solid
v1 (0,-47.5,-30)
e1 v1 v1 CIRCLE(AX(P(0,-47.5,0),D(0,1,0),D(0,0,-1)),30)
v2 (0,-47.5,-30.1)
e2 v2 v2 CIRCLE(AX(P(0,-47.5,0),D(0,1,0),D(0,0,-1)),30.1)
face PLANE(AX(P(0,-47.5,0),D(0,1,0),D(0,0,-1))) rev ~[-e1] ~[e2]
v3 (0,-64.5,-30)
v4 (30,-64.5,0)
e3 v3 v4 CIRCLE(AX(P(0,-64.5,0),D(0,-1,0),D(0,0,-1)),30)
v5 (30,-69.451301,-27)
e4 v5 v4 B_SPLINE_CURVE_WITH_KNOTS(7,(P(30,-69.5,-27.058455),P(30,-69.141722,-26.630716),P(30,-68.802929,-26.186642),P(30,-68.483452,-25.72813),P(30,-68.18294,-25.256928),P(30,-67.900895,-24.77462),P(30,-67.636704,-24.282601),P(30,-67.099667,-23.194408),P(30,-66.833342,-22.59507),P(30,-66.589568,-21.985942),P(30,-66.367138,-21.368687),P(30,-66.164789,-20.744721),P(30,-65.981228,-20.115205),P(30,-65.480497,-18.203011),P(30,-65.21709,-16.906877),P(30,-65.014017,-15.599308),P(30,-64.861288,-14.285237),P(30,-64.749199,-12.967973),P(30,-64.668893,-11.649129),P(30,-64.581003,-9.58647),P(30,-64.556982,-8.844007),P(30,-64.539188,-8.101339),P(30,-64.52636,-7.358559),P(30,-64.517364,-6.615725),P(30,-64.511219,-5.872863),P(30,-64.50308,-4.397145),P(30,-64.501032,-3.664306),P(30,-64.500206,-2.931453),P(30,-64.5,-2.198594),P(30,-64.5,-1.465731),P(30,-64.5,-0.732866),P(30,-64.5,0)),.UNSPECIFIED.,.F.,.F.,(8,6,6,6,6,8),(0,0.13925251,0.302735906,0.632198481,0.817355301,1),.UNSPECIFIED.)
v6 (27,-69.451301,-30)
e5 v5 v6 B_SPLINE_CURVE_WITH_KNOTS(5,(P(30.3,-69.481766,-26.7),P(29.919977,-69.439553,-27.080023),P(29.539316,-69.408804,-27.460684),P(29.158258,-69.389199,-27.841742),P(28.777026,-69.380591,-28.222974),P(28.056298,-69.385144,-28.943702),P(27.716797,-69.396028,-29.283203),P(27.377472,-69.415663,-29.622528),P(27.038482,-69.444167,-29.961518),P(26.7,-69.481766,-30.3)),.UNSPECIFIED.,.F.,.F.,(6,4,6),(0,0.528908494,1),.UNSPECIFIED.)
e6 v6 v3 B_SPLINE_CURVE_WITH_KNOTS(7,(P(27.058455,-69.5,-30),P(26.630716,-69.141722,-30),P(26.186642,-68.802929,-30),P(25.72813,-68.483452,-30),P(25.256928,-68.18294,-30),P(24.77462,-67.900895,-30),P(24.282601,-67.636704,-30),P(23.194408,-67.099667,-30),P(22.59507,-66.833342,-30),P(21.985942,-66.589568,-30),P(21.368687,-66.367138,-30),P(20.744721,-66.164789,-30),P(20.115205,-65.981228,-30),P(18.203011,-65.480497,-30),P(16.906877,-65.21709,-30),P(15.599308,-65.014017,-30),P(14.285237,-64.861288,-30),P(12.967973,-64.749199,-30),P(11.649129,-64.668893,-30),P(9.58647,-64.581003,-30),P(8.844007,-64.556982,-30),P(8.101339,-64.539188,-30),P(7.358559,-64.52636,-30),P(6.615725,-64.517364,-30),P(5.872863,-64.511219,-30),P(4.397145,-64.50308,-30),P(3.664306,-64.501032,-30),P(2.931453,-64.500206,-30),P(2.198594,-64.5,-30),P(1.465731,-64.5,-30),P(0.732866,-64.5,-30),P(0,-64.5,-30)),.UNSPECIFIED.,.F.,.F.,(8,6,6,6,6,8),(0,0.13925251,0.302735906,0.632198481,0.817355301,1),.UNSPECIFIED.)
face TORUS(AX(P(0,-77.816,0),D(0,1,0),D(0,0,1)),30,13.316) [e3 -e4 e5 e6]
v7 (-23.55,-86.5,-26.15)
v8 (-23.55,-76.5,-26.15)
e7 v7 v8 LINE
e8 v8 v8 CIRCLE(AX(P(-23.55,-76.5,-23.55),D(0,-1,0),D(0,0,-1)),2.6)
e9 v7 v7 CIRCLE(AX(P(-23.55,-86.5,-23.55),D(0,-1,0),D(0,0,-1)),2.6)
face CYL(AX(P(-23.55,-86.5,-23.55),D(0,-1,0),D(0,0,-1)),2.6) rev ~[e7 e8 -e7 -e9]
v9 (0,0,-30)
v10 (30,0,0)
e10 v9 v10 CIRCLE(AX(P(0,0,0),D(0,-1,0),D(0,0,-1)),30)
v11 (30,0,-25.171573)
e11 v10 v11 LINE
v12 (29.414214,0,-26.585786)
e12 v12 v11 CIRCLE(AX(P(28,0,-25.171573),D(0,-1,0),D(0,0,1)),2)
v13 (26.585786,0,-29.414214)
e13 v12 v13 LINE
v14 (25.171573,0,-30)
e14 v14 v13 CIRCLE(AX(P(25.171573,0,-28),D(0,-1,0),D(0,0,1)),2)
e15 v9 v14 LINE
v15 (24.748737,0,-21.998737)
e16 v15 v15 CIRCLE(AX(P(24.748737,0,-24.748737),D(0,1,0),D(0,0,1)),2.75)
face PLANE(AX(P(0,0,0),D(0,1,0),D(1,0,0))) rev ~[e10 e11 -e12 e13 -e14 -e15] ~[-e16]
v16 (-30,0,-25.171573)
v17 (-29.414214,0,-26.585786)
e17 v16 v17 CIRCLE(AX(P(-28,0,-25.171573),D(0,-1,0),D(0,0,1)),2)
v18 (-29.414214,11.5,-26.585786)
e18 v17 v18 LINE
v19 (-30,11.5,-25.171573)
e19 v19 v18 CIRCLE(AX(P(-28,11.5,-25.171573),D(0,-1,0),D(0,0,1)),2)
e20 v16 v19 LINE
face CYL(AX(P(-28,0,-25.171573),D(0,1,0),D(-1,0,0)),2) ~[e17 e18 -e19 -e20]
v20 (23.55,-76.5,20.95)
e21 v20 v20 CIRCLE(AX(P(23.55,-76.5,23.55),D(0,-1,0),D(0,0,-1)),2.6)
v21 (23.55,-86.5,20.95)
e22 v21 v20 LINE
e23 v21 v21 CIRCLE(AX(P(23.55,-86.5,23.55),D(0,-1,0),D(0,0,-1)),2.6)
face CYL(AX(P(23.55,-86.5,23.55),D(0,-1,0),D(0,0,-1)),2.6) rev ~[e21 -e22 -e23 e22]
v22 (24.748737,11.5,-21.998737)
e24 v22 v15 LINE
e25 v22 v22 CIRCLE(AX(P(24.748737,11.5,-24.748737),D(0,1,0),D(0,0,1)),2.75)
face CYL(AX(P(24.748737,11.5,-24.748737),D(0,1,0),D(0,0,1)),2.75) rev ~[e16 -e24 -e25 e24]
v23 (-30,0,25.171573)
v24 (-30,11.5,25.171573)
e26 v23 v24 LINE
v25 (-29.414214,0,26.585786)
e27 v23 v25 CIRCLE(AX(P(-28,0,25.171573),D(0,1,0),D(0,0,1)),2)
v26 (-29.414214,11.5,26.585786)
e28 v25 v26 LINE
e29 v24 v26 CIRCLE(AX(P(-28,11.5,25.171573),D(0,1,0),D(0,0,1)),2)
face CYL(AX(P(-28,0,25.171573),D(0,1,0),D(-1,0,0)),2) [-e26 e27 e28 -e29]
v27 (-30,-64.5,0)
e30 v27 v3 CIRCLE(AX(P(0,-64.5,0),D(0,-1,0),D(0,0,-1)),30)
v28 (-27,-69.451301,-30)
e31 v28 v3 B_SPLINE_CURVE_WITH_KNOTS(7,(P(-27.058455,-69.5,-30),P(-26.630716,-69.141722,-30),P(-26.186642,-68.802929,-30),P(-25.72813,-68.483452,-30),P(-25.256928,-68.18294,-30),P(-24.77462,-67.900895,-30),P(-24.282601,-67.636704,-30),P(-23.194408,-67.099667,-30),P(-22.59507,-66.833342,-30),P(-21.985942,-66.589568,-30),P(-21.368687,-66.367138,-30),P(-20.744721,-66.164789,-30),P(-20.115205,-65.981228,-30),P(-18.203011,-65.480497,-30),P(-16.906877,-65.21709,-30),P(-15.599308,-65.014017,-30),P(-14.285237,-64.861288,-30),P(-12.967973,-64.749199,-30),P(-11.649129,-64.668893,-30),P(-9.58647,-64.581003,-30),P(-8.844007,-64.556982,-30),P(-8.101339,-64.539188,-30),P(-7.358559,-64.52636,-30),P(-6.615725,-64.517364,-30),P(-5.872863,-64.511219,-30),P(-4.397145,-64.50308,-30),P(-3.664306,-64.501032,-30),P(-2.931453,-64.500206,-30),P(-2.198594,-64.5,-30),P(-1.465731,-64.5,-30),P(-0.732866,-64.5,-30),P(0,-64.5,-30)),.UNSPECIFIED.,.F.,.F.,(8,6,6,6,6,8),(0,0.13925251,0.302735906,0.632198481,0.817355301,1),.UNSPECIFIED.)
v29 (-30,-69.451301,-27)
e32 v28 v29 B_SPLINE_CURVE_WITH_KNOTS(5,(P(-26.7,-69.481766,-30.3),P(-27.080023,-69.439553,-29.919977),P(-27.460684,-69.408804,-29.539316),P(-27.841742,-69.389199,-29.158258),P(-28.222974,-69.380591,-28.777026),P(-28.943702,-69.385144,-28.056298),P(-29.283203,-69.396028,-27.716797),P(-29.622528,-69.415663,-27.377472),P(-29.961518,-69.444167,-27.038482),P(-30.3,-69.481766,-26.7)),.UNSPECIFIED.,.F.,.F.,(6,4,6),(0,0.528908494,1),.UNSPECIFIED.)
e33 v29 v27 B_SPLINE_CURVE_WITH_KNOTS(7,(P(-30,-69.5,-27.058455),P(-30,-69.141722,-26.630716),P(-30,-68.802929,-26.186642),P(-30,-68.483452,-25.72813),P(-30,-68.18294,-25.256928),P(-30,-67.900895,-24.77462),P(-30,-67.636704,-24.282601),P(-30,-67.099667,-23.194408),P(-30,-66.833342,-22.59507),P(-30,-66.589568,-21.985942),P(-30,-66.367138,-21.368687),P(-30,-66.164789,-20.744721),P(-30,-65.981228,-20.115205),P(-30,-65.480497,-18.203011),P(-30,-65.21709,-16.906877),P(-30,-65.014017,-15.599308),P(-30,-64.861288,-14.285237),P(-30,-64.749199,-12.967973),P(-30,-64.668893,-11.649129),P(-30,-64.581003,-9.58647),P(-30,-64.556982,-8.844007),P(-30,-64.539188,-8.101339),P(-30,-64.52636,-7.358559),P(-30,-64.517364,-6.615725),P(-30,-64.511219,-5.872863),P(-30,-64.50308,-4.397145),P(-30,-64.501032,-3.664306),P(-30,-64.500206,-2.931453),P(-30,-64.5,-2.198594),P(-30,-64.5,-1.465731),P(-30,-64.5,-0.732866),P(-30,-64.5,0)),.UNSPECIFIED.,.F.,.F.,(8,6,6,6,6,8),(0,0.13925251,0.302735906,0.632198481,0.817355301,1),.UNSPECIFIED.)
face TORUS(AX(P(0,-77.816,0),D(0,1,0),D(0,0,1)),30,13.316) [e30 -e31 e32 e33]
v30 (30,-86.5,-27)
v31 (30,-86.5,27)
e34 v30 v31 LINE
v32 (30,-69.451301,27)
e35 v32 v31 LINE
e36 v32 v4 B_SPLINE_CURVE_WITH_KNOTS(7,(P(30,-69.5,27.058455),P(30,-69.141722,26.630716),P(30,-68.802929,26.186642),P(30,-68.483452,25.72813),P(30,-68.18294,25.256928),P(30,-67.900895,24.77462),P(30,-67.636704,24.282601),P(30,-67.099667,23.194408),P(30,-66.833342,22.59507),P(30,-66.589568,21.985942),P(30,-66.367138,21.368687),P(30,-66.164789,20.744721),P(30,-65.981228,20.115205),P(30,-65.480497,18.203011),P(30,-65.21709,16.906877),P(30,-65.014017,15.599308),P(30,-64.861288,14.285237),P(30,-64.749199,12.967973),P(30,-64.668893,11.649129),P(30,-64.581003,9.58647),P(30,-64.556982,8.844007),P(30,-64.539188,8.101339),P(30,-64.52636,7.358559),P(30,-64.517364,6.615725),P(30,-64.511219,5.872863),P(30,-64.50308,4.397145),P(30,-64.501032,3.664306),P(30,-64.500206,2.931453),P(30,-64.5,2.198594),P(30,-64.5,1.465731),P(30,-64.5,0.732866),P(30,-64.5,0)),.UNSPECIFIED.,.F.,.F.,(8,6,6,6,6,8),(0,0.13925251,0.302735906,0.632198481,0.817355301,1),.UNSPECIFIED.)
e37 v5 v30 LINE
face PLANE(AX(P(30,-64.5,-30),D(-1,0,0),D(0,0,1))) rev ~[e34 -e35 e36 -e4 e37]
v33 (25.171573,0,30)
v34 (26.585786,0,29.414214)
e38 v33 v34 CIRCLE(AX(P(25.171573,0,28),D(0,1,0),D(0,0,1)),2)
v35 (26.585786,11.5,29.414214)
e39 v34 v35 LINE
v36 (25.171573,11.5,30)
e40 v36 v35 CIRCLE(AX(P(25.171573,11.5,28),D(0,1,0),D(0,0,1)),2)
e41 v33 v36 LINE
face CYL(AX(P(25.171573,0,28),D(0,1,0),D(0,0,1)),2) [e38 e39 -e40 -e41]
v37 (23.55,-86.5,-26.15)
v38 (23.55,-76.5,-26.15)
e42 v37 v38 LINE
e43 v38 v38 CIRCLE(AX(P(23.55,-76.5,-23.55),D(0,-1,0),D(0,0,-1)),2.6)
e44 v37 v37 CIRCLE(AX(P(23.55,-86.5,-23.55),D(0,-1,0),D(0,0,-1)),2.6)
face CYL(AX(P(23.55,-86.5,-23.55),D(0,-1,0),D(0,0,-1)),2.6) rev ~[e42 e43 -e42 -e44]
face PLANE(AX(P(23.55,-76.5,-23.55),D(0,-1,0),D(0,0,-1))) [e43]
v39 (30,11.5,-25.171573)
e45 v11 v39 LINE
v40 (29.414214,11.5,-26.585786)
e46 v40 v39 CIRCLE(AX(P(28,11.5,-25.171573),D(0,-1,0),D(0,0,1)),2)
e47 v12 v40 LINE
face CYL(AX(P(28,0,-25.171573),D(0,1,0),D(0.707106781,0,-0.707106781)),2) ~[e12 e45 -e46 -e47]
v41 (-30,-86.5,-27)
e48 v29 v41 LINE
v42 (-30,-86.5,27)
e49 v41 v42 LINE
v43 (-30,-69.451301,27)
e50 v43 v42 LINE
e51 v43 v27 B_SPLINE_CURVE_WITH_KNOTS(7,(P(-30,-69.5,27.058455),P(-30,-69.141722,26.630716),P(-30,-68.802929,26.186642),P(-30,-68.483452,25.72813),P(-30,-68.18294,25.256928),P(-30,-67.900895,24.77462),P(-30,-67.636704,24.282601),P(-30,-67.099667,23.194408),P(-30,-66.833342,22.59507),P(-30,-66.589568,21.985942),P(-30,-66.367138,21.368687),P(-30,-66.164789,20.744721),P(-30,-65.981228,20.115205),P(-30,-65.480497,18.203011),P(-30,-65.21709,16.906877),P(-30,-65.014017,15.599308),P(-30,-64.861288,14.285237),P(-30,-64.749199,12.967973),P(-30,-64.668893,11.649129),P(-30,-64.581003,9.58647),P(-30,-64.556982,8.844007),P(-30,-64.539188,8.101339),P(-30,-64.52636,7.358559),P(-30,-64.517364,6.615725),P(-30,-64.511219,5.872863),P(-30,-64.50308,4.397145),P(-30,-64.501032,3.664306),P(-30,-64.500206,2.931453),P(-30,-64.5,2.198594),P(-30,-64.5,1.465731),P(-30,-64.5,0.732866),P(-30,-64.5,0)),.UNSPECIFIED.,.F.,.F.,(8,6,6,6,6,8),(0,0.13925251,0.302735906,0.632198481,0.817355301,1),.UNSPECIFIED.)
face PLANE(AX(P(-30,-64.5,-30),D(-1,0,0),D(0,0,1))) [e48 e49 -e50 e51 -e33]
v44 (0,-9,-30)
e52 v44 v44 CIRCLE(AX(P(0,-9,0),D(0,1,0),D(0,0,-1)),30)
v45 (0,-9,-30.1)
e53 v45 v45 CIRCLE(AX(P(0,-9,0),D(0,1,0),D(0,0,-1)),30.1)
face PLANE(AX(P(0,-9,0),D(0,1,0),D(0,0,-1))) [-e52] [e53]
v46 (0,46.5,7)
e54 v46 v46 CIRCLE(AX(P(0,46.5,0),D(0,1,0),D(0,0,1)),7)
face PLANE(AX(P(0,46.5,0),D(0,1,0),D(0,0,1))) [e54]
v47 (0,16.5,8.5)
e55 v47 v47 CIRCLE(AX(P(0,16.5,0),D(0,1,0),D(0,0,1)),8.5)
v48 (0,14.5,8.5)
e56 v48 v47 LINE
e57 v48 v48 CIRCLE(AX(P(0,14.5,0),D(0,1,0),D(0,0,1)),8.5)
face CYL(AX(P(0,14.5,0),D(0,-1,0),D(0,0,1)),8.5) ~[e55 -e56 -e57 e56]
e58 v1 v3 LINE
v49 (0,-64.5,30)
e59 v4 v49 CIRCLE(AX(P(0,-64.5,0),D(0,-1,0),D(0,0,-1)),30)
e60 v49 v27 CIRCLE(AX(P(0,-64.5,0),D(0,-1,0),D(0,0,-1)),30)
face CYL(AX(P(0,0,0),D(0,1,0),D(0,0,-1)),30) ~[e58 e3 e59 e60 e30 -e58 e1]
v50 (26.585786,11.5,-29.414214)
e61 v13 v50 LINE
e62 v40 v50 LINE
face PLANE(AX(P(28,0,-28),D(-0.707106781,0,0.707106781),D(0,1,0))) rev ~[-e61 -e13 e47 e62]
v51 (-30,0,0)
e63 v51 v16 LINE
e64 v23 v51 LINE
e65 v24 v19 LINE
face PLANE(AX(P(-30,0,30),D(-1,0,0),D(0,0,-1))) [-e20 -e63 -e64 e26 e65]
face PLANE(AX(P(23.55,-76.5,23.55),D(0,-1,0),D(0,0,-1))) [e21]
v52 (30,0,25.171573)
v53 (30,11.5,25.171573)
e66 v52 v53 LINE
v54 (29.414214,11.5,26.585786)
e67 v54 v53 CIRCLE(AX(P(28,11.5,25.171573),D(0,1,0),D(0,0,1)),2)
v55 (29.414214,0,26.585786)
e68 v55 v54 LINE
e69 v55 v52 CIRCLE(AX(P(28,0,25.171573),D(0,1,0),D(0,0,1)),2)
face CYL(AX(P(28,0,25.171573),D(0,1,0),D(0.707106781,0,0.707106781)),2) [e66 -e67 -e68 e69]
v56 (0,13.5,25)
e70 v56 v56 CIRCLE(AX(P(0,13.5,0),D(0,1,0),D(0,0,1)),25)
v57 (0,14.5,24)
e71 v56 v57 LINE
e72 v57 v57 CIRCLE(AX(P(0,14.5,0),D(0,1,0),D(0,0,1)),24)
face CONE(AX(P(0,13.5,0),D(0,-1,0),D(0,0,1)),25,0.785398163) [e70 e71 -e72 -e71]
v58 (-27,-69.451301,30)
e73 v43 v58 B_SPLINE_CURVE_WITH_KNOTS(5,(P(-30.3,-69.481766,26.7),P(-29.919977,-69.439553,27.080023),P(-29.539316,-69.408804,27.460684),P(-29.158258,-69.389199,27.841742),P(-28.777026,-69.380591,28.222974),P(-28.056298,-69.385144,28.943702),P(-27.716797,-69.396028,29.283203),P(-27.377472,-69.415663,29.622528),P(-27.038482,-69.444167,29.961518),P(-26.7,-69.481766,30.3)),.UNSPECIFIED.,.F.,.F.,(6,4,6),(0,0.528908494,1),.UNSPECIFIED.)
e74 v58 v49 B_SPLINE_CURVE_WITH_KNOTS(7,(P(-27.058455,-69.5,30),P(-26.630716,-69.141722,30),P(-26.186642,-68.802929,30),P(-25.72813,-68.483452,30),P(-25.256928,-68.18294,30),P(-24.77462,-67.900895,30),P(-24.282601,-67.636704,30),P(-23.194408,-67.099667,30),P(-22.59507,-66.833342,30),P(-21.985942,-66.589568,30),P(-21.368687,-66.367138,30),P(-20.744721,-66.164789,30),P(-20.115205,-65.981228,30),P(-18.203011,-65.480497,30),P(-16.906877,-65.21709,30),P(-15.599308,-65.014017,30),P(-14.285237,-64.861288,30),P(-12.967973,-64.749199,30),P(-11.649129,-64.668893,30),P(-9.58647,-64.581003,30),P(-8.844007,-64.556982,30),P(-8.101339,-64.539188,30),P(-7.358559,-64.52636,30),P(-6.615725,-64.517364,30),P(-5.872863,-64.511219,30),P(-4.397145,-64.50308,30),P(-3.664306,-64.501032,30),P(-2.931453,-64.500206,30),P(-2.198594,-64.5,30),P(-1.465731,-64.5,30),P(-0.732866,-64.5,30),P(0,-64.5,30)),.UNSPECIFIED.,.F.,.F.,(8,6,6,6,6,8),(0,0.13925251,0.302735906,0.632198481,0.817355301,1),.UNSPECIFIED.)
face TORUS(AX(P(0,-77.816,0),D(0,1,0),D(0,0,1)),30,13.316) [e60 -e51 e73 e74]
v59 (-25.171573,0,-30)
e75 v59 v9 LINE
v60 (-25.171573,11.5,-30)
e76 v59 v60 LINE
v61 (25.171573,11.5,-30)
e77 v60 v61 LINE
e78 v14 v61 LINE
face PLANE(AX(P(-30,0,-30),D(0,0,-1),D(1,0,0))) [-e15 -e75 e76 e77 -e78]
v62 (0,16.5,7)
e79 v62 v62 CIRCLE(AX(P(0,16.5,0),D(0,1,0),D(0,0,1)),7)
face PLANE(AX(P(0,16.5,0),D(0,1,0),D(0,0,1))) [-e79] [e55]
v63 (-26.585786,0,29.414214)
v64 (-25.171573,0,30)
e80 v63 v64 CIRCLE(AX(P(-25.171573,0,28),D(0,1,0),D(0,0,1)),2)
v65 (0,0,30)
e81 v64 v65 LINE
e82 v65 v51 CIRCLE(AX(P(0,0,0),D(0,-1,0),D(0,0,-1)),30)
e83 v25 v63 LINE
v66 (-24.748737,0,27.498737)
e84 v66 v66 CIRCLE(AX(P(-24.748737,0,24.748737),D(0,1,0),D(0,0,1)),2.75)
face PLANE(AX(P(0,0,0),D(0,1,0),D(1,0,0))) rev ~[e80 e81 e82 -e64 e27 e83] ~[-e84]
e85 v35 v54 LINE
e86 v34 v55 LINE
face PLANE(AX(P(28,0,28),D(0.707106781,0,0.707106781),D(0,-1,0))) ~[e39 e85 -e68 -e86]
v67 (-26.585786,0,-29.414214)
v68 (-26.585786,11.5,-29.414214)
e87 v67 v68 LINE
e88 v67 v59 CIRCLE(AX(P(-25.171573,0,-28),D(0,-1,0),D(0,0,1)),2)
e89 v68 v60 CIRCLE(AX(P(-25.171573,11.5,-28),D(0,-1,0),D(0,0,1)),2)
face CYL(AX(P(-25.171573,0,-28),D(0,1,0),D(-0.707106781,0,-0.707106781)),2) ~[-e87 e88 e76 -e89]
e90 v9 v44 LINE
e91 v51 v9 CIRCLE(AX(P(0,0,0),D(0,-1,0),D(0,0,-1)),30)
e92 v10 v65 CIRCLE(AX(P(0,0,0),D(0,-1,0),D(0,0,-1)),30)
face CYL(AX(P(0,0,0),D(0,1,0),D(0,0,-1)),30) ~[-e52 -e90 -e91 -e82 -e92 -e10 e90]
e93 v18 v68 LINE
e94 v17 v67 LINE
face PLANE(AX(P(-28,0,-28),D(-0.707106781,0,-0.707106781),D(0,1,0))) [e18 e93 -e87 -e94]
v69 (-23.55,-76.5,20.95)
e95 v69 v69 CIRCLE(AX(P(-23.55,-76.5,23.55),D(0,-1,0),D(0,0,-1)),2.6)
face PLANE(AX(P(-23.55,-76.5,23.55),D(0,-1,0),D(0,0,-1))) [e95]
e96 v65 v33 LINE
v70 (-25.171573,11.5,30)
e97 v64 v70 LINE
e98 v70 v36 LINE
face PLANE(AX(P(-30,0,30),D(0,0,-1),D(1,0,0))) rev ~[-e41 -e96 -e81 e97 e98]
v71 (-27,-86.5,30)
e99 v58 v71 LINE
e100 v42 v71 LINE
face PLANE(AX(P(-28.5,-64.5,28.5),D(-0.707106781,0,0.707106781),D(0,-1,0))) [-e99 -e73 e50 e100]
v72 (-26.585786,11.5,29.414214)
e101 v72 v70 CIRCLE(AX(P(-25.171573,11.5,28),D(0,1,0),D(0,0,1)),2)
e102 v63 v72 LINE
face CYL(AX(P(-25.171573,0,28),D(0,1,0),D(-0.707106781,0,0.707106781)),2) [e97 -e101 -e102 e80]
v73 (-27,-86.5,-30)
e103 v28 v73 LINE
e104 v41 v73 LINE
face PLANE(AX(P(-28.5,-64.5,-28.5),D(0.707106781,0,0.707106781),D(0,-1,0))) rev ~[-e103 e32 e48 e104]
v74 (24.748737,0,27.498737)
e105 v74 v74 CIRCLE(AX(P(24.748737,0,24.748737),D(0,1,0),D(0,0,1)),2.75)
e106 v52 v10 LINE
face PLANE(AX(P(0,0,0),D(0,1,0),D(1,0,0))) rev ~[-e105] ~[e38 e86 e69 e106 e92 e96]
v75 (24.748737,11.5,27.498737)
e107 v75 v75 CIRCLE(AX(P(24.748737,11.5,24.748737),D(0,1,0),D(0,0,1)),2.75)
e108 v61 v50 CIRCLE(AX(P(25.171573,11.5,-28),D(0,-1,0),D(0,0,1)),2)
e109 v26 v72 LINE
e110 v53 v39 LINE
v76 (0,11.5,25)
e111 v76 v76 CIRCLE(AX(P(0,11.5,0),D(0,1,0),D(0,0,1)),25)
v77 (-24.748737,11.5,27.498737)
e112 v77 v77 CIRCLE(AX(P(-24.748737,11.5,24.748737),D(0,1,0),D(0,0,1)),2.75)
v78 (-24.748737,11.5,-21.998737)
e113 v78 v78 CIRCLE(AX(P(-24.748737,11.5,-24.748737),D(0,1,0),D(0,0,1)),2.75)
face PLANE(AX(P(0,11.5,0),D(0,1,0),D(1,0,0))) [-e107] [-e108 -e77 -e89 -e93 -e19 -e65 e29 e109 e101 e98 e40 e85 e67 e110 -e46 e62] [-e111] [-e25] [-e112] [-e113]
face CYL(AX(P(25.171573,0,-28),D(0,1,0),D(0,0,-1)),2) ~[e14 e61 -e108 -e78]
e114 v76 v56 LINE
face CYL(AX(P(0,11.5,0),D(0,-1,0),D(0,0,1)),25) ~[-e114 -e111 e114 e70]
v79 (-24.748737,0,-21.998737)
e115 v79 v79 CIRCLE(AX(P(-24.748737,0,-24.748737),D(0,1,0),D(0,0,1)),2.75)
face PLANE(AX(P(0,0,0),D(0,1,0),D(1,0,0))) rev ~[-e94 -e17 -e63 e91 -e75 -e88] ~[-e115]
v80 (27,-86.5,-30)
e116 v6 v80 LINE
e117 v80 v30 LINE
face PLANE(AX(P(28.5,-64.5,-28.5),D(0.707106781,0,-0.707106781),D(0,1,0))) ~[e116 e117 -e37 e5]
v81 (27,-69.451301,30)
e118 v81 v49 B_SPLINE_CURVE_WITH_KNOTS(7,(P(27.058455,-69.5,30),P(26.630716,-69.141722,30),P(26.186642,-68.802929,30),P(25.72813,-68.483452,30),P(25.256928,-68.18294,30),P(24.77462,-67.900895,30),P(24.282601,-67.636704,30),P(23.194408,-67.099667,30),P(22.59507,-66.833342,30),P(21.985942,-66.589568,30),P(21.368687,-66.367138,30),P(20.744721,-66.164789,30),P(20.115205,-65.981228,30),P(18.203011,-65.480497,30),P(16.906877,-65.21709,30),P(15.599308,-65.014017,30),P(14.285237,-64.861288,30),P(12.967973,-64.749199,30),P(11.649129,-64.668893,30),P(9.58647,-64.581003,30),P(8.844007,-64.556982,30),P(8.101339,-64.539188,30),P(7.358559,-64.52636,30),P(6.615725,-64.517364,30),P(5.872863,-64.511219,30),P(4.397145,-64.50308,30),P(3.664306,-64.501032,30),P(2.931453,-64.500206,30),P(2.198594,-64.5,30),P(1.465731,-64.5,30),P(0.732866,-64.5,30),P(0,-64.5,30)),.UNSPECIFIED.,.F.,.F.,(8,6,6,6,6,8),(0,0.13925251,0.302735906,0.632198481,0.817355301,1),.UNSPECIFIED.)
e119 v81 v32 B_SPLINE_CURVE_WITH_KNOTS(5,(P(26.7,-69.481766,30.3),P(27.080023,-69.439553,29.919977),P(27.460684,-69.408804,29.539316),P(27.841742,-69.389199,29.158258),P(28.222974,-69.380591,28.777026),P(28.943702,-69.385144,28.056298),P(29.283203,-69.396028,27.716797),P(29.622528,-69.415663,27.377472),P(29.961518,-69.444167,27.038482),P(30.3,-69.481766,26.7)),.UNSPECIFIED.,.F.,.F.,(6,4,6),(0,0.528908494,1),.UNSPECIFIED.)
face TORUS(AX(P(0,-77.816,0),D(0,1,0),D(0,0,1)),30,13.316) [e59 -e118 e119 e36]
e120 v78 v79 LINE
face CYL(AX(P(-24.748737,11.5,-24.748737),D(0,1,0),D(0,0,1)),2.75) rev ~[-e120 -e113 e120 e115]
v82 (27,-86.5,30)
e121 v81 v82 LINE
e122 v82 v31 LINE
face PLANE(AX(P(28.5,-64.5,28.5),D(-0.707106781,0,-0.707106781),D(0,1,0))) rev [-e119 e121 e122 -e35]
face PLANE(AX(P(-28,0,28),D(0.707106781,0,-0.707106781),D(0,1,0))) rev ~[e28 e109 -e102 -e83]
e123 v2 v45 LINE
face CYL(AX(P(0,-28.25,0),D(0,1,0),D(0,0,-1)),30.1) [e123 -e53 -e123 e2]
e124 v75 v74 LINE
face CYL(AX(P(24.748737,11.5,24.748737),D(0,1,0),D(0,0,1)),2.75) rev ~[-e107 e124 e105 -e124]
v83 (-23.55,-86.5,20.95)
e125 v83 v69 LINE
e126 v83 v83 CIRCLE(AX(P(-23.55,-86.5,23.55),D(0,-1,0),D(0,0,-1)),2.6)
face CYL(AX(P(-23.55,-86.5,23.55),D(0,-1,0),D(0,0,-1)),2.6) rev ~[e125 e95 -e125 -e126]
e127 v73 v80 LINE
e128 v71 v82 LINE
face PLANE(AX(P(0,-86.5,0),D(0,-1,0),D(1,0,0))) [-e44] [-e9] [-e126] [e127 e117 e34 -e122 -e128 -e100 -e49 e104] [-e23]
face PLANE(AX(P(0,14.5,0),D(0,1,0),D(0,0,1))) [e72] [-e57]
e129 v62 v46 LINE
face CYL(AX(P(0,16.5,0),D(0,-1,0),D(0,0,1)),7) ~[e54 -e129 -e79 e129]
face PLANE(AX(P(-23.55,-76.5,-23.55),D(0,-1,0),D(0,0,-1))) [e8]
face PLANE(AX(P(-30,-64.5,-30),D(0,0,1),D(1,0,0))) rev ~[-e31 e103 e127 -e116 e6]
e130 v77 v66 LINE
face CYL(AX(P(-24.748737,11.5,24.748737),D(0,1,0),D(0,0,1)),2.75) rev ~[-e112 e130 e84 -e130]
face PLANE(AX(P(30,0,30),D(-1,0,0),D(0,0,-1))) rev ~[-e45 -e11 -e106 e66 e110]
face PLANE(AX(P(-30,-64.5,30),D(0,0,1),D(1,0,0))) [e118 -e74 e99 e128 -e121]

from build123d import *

# Parameters (mm, degrees)
IZIM1_W                      = 60
IZIM1_H                      = 60
Y_KSEKLIK_EKSTR_ZYON1_DEPTH  = 11.5
PAH1_SIZE                    = 4
IZIM2_R                      = 25
Y_KSEKLIK_EKSTR_ZYON2_DEPTH  = 3
PAH2_SIZE                    = 1
RADYUS1_R                    = 2
IZIM3_R                      = 30
Y_KSEKLIK_EKSTR_ZYON3_DEPTH  = 64.5
IZIM4_W                      = 60
IZIM4_H                      = 60
Y_KSEKLIK_EKSTR_ZYON4_DEPTH  = 22
PAH3_SIZE                    = 3
IZIM19_R                     = 8.5
Y_KSEKLIK_EKSTR_ZYON12_DEPTH = 2
IZIM20_R                     = 7
Y_KSEKLIK_EKSTR_ZYON13_DEPTH = 30
IZIM22_R                     = 2.75
KES_EKSTR_ZYON2_DEPTH        = 11.5
IZIM23_W                     = 0.1
IZIM23_H                     = 38.5
IZIM25_R                     = 2.6
KES_EKSTR_ZYON4_DEPTH        = 10


with BuildPart() as part:
    # Çizim1 → Yükseklik-Ekstrüzyon1 (new body)
    with BuildSketch(Plane(origin=(0, 0, 0), x_dir=(1, 0, 0), z_dir=(0, 1, 0))):
        Rectangle(IZIM1_W, IZIM1_H)
    extrude(amount=Y_KSEKLIK_EKSTR_ZYON1_DEPTH)

    # Pah1
    pah1_edges = [part.edges().sort_by_distance(p)[0] for p in [
        (30, 5.75, 30),
        (-30, 5.75, 30),
        (-30, 5.75, -30),
        (30, 5.75, -30),
    ]]
    chamfer(pah1_edges, length=PAH1_SIZE)

    # Çizim2 → Yükseklik-Ekstrüzyon2 (add)
    with BuildSketch(Plane(origin=(0, 11.5, 0), x_dir=(1, 0, 0), z_dir=(0, 1, 0))):
        with Locations(Location((0, 0, 0), (0, 0, 270))):
            Circle(IZIM2_R)
    extrude(amount=Y_KSEKLIK_EKSTR_ZYON2_DEPTH)

    # Pah2
    pah2_edges = [part.edges().sort_by_distance(p)[0] for p in [
        (0, 14.5, -25),
    ]]
    chamfer(pah2_edges, length=PAH2_SIZE)

    # Radyus1
    radyus1_edges = [part.edges().sort_by_distance(p)[0] for p in [
        (-30, 5.75, 26),
        (-30, 5.75, -26),
        (26, 5.75, -30),
        (-26, 5.75, -30),
        (26, 5.75, 30),
        (-26, 5.75, 30),
        (30, 5.75, 26),
        (30, 5.75, -26),
    ]]
    fillet(radyus1_edges, radius=RADYUS1_R)

    # Çizim3 → Yükseklik-Ekstrüzyon3 (add)
    with BuildSketch(Plane.XZ):
        with Locations(Location((0, 0, 0), (0, 0, 270))):
            Circle(IZIM3_R)
    extrude(amount=Y_KSEKLIK_EKSTR_ZYON3_DEPTH)

    # Çizim4 → Yükseklik-Ekstrüzyon4 (add)
    with BuildSketch(Plane.XZ.offset(64.5)):
        Rectangle(IZIM4_W, IZIM4_H)
    extrude(amount=Y_KSEKLIK_EKSTR_ZYON4_DEPTH)

    # Pah3
    pah3_edges = [part.edges().sort_by_distance(p)[0] for p in [
        (30, -75.5, -30),
        (30, -75.5, 30),
        (-30, -75.5, 30),
        (-30, -75.5, -30),
    ]]
    chamfer(pah3_edges, length=PAH3_SIZE)

    # Çizim8 → Kes-Döndür2 (revolve, cut)
    with BuildSketch(Plane(origin=(0, 0, 0), x_dir=(0, 0, -1), z_dir=(1, 0, 0))):
        with BuildLine():
            Line((-30, -64.5), (-40.4, -64.5))
            Line((-40.4, -64.5), (-40.4, -69.5))
            ThreePointArc((-40.4, -69.5), (-35.769748695, -65.814922715), (-30, -64.5))
        make_face()
    revolve(axis=Axis((0, -86.5, 0), (0, 1, 0)), mode=Mode.SUBTRACT)

    # Çizim19 → Yükseklik-Ekstrüzyon12 (add)
    with BuildSketch(Plane(origin=(0, 14.5, 0), x_dir=(1, 0, 0), z_dir=(0, 1, 0))):
        with Locations(Location((0, 0, 0), (0, 0, 270))):
            Circle(IZIM19_R)
    extrude(amount=Y_KSEKLIK_EKSTR_ZYON12_DEPTH)

    # Çizim20 → Yükseklik-Ekstrüzyon13 (add)
    with BuildSketch(Plane(origin=(0, 16.5, 0), x_dir=(1, 0, 0), z_dir=(0, 1, 0))):
        with Locations(Location((0, 0, 0), (0, 0, 270))):
            Circle(IZIM20_R)
    extrude(amount=Y_KSEKLIK_EKSTR_ZYON13_DEPTH)

    # Çizim22 → Kes-Ekstrüzyon2 (cut)
    with BuildSketch(Plane(origin=(0, 11.5, 0), x_dir=(1, 0, 0), z_dir=(0, 1, 0))):
        with Locations(Location((-24.748737342, 24.748737342, 0), (0, 0, 270))):
            Circle(IZIM22_R)
        with Locations(Location((24.748737342, 24.748737342, 0), (0, 0, 270))):
            Circle(IZIM22_R)
        with Locations(Location((24.748737342, -24.748737342, 0), (0, 0, 270))):
            Circle(IZIM22_R)
        with Locations(Location((-24.748737342, -24.748737342, 0), (0, 0, 270))):
            Circle(IZIM22_R)
    extrude(amount=-KES_EKSTR_ZYON2_DEPTH, mode=Mode.SUBTRACT)

    # Çizim23 → Döndür1 (revolve)
    with BuildSketch(Plane.XY, mode=Mode.PRIVATE) as d_nd_r1_sk:
        with Locations((-30.05, -28.25)):
            Rectangle(IZIM23_W, IZIM23_H)
    revolve(d_nd_r1_sk.sketch.rotate(Axis((0, -64.5, 0), (0, 1, 0)), 270), axis=Axis((0, -64.5, 0), (0, 1, 0)))

    # Çizim25 → Kes-Ekstrüzyon4 (cut)
    with BuildSketch(Plane(origin=(0, -86.5, 0), x_dir=(-1, 0, 0), z_dir=(0, -1, 0))):
        with Locations(Location((23.55, -23.55, 0), (0, 0, 90))):
            Circle(IZIM25_R)
        with Locations(Location((-23.55, -23.55, 0), (0, 0, 90))):
            Circle(IZIM25_R)
        with Locations(Location((23.55, 23.55, 0), (0, 0, 90))):
            Circle(IZIM25_R)
        with Locations(Location((-23.55, 23.55, 0), (0, 0, 90))):
            Circle(IZIM25_R)
    extrude(amount=-KES_EKSTR_ZYON4_DEPTH, mode=Mode.SUBTRACT)


solid = part.part
